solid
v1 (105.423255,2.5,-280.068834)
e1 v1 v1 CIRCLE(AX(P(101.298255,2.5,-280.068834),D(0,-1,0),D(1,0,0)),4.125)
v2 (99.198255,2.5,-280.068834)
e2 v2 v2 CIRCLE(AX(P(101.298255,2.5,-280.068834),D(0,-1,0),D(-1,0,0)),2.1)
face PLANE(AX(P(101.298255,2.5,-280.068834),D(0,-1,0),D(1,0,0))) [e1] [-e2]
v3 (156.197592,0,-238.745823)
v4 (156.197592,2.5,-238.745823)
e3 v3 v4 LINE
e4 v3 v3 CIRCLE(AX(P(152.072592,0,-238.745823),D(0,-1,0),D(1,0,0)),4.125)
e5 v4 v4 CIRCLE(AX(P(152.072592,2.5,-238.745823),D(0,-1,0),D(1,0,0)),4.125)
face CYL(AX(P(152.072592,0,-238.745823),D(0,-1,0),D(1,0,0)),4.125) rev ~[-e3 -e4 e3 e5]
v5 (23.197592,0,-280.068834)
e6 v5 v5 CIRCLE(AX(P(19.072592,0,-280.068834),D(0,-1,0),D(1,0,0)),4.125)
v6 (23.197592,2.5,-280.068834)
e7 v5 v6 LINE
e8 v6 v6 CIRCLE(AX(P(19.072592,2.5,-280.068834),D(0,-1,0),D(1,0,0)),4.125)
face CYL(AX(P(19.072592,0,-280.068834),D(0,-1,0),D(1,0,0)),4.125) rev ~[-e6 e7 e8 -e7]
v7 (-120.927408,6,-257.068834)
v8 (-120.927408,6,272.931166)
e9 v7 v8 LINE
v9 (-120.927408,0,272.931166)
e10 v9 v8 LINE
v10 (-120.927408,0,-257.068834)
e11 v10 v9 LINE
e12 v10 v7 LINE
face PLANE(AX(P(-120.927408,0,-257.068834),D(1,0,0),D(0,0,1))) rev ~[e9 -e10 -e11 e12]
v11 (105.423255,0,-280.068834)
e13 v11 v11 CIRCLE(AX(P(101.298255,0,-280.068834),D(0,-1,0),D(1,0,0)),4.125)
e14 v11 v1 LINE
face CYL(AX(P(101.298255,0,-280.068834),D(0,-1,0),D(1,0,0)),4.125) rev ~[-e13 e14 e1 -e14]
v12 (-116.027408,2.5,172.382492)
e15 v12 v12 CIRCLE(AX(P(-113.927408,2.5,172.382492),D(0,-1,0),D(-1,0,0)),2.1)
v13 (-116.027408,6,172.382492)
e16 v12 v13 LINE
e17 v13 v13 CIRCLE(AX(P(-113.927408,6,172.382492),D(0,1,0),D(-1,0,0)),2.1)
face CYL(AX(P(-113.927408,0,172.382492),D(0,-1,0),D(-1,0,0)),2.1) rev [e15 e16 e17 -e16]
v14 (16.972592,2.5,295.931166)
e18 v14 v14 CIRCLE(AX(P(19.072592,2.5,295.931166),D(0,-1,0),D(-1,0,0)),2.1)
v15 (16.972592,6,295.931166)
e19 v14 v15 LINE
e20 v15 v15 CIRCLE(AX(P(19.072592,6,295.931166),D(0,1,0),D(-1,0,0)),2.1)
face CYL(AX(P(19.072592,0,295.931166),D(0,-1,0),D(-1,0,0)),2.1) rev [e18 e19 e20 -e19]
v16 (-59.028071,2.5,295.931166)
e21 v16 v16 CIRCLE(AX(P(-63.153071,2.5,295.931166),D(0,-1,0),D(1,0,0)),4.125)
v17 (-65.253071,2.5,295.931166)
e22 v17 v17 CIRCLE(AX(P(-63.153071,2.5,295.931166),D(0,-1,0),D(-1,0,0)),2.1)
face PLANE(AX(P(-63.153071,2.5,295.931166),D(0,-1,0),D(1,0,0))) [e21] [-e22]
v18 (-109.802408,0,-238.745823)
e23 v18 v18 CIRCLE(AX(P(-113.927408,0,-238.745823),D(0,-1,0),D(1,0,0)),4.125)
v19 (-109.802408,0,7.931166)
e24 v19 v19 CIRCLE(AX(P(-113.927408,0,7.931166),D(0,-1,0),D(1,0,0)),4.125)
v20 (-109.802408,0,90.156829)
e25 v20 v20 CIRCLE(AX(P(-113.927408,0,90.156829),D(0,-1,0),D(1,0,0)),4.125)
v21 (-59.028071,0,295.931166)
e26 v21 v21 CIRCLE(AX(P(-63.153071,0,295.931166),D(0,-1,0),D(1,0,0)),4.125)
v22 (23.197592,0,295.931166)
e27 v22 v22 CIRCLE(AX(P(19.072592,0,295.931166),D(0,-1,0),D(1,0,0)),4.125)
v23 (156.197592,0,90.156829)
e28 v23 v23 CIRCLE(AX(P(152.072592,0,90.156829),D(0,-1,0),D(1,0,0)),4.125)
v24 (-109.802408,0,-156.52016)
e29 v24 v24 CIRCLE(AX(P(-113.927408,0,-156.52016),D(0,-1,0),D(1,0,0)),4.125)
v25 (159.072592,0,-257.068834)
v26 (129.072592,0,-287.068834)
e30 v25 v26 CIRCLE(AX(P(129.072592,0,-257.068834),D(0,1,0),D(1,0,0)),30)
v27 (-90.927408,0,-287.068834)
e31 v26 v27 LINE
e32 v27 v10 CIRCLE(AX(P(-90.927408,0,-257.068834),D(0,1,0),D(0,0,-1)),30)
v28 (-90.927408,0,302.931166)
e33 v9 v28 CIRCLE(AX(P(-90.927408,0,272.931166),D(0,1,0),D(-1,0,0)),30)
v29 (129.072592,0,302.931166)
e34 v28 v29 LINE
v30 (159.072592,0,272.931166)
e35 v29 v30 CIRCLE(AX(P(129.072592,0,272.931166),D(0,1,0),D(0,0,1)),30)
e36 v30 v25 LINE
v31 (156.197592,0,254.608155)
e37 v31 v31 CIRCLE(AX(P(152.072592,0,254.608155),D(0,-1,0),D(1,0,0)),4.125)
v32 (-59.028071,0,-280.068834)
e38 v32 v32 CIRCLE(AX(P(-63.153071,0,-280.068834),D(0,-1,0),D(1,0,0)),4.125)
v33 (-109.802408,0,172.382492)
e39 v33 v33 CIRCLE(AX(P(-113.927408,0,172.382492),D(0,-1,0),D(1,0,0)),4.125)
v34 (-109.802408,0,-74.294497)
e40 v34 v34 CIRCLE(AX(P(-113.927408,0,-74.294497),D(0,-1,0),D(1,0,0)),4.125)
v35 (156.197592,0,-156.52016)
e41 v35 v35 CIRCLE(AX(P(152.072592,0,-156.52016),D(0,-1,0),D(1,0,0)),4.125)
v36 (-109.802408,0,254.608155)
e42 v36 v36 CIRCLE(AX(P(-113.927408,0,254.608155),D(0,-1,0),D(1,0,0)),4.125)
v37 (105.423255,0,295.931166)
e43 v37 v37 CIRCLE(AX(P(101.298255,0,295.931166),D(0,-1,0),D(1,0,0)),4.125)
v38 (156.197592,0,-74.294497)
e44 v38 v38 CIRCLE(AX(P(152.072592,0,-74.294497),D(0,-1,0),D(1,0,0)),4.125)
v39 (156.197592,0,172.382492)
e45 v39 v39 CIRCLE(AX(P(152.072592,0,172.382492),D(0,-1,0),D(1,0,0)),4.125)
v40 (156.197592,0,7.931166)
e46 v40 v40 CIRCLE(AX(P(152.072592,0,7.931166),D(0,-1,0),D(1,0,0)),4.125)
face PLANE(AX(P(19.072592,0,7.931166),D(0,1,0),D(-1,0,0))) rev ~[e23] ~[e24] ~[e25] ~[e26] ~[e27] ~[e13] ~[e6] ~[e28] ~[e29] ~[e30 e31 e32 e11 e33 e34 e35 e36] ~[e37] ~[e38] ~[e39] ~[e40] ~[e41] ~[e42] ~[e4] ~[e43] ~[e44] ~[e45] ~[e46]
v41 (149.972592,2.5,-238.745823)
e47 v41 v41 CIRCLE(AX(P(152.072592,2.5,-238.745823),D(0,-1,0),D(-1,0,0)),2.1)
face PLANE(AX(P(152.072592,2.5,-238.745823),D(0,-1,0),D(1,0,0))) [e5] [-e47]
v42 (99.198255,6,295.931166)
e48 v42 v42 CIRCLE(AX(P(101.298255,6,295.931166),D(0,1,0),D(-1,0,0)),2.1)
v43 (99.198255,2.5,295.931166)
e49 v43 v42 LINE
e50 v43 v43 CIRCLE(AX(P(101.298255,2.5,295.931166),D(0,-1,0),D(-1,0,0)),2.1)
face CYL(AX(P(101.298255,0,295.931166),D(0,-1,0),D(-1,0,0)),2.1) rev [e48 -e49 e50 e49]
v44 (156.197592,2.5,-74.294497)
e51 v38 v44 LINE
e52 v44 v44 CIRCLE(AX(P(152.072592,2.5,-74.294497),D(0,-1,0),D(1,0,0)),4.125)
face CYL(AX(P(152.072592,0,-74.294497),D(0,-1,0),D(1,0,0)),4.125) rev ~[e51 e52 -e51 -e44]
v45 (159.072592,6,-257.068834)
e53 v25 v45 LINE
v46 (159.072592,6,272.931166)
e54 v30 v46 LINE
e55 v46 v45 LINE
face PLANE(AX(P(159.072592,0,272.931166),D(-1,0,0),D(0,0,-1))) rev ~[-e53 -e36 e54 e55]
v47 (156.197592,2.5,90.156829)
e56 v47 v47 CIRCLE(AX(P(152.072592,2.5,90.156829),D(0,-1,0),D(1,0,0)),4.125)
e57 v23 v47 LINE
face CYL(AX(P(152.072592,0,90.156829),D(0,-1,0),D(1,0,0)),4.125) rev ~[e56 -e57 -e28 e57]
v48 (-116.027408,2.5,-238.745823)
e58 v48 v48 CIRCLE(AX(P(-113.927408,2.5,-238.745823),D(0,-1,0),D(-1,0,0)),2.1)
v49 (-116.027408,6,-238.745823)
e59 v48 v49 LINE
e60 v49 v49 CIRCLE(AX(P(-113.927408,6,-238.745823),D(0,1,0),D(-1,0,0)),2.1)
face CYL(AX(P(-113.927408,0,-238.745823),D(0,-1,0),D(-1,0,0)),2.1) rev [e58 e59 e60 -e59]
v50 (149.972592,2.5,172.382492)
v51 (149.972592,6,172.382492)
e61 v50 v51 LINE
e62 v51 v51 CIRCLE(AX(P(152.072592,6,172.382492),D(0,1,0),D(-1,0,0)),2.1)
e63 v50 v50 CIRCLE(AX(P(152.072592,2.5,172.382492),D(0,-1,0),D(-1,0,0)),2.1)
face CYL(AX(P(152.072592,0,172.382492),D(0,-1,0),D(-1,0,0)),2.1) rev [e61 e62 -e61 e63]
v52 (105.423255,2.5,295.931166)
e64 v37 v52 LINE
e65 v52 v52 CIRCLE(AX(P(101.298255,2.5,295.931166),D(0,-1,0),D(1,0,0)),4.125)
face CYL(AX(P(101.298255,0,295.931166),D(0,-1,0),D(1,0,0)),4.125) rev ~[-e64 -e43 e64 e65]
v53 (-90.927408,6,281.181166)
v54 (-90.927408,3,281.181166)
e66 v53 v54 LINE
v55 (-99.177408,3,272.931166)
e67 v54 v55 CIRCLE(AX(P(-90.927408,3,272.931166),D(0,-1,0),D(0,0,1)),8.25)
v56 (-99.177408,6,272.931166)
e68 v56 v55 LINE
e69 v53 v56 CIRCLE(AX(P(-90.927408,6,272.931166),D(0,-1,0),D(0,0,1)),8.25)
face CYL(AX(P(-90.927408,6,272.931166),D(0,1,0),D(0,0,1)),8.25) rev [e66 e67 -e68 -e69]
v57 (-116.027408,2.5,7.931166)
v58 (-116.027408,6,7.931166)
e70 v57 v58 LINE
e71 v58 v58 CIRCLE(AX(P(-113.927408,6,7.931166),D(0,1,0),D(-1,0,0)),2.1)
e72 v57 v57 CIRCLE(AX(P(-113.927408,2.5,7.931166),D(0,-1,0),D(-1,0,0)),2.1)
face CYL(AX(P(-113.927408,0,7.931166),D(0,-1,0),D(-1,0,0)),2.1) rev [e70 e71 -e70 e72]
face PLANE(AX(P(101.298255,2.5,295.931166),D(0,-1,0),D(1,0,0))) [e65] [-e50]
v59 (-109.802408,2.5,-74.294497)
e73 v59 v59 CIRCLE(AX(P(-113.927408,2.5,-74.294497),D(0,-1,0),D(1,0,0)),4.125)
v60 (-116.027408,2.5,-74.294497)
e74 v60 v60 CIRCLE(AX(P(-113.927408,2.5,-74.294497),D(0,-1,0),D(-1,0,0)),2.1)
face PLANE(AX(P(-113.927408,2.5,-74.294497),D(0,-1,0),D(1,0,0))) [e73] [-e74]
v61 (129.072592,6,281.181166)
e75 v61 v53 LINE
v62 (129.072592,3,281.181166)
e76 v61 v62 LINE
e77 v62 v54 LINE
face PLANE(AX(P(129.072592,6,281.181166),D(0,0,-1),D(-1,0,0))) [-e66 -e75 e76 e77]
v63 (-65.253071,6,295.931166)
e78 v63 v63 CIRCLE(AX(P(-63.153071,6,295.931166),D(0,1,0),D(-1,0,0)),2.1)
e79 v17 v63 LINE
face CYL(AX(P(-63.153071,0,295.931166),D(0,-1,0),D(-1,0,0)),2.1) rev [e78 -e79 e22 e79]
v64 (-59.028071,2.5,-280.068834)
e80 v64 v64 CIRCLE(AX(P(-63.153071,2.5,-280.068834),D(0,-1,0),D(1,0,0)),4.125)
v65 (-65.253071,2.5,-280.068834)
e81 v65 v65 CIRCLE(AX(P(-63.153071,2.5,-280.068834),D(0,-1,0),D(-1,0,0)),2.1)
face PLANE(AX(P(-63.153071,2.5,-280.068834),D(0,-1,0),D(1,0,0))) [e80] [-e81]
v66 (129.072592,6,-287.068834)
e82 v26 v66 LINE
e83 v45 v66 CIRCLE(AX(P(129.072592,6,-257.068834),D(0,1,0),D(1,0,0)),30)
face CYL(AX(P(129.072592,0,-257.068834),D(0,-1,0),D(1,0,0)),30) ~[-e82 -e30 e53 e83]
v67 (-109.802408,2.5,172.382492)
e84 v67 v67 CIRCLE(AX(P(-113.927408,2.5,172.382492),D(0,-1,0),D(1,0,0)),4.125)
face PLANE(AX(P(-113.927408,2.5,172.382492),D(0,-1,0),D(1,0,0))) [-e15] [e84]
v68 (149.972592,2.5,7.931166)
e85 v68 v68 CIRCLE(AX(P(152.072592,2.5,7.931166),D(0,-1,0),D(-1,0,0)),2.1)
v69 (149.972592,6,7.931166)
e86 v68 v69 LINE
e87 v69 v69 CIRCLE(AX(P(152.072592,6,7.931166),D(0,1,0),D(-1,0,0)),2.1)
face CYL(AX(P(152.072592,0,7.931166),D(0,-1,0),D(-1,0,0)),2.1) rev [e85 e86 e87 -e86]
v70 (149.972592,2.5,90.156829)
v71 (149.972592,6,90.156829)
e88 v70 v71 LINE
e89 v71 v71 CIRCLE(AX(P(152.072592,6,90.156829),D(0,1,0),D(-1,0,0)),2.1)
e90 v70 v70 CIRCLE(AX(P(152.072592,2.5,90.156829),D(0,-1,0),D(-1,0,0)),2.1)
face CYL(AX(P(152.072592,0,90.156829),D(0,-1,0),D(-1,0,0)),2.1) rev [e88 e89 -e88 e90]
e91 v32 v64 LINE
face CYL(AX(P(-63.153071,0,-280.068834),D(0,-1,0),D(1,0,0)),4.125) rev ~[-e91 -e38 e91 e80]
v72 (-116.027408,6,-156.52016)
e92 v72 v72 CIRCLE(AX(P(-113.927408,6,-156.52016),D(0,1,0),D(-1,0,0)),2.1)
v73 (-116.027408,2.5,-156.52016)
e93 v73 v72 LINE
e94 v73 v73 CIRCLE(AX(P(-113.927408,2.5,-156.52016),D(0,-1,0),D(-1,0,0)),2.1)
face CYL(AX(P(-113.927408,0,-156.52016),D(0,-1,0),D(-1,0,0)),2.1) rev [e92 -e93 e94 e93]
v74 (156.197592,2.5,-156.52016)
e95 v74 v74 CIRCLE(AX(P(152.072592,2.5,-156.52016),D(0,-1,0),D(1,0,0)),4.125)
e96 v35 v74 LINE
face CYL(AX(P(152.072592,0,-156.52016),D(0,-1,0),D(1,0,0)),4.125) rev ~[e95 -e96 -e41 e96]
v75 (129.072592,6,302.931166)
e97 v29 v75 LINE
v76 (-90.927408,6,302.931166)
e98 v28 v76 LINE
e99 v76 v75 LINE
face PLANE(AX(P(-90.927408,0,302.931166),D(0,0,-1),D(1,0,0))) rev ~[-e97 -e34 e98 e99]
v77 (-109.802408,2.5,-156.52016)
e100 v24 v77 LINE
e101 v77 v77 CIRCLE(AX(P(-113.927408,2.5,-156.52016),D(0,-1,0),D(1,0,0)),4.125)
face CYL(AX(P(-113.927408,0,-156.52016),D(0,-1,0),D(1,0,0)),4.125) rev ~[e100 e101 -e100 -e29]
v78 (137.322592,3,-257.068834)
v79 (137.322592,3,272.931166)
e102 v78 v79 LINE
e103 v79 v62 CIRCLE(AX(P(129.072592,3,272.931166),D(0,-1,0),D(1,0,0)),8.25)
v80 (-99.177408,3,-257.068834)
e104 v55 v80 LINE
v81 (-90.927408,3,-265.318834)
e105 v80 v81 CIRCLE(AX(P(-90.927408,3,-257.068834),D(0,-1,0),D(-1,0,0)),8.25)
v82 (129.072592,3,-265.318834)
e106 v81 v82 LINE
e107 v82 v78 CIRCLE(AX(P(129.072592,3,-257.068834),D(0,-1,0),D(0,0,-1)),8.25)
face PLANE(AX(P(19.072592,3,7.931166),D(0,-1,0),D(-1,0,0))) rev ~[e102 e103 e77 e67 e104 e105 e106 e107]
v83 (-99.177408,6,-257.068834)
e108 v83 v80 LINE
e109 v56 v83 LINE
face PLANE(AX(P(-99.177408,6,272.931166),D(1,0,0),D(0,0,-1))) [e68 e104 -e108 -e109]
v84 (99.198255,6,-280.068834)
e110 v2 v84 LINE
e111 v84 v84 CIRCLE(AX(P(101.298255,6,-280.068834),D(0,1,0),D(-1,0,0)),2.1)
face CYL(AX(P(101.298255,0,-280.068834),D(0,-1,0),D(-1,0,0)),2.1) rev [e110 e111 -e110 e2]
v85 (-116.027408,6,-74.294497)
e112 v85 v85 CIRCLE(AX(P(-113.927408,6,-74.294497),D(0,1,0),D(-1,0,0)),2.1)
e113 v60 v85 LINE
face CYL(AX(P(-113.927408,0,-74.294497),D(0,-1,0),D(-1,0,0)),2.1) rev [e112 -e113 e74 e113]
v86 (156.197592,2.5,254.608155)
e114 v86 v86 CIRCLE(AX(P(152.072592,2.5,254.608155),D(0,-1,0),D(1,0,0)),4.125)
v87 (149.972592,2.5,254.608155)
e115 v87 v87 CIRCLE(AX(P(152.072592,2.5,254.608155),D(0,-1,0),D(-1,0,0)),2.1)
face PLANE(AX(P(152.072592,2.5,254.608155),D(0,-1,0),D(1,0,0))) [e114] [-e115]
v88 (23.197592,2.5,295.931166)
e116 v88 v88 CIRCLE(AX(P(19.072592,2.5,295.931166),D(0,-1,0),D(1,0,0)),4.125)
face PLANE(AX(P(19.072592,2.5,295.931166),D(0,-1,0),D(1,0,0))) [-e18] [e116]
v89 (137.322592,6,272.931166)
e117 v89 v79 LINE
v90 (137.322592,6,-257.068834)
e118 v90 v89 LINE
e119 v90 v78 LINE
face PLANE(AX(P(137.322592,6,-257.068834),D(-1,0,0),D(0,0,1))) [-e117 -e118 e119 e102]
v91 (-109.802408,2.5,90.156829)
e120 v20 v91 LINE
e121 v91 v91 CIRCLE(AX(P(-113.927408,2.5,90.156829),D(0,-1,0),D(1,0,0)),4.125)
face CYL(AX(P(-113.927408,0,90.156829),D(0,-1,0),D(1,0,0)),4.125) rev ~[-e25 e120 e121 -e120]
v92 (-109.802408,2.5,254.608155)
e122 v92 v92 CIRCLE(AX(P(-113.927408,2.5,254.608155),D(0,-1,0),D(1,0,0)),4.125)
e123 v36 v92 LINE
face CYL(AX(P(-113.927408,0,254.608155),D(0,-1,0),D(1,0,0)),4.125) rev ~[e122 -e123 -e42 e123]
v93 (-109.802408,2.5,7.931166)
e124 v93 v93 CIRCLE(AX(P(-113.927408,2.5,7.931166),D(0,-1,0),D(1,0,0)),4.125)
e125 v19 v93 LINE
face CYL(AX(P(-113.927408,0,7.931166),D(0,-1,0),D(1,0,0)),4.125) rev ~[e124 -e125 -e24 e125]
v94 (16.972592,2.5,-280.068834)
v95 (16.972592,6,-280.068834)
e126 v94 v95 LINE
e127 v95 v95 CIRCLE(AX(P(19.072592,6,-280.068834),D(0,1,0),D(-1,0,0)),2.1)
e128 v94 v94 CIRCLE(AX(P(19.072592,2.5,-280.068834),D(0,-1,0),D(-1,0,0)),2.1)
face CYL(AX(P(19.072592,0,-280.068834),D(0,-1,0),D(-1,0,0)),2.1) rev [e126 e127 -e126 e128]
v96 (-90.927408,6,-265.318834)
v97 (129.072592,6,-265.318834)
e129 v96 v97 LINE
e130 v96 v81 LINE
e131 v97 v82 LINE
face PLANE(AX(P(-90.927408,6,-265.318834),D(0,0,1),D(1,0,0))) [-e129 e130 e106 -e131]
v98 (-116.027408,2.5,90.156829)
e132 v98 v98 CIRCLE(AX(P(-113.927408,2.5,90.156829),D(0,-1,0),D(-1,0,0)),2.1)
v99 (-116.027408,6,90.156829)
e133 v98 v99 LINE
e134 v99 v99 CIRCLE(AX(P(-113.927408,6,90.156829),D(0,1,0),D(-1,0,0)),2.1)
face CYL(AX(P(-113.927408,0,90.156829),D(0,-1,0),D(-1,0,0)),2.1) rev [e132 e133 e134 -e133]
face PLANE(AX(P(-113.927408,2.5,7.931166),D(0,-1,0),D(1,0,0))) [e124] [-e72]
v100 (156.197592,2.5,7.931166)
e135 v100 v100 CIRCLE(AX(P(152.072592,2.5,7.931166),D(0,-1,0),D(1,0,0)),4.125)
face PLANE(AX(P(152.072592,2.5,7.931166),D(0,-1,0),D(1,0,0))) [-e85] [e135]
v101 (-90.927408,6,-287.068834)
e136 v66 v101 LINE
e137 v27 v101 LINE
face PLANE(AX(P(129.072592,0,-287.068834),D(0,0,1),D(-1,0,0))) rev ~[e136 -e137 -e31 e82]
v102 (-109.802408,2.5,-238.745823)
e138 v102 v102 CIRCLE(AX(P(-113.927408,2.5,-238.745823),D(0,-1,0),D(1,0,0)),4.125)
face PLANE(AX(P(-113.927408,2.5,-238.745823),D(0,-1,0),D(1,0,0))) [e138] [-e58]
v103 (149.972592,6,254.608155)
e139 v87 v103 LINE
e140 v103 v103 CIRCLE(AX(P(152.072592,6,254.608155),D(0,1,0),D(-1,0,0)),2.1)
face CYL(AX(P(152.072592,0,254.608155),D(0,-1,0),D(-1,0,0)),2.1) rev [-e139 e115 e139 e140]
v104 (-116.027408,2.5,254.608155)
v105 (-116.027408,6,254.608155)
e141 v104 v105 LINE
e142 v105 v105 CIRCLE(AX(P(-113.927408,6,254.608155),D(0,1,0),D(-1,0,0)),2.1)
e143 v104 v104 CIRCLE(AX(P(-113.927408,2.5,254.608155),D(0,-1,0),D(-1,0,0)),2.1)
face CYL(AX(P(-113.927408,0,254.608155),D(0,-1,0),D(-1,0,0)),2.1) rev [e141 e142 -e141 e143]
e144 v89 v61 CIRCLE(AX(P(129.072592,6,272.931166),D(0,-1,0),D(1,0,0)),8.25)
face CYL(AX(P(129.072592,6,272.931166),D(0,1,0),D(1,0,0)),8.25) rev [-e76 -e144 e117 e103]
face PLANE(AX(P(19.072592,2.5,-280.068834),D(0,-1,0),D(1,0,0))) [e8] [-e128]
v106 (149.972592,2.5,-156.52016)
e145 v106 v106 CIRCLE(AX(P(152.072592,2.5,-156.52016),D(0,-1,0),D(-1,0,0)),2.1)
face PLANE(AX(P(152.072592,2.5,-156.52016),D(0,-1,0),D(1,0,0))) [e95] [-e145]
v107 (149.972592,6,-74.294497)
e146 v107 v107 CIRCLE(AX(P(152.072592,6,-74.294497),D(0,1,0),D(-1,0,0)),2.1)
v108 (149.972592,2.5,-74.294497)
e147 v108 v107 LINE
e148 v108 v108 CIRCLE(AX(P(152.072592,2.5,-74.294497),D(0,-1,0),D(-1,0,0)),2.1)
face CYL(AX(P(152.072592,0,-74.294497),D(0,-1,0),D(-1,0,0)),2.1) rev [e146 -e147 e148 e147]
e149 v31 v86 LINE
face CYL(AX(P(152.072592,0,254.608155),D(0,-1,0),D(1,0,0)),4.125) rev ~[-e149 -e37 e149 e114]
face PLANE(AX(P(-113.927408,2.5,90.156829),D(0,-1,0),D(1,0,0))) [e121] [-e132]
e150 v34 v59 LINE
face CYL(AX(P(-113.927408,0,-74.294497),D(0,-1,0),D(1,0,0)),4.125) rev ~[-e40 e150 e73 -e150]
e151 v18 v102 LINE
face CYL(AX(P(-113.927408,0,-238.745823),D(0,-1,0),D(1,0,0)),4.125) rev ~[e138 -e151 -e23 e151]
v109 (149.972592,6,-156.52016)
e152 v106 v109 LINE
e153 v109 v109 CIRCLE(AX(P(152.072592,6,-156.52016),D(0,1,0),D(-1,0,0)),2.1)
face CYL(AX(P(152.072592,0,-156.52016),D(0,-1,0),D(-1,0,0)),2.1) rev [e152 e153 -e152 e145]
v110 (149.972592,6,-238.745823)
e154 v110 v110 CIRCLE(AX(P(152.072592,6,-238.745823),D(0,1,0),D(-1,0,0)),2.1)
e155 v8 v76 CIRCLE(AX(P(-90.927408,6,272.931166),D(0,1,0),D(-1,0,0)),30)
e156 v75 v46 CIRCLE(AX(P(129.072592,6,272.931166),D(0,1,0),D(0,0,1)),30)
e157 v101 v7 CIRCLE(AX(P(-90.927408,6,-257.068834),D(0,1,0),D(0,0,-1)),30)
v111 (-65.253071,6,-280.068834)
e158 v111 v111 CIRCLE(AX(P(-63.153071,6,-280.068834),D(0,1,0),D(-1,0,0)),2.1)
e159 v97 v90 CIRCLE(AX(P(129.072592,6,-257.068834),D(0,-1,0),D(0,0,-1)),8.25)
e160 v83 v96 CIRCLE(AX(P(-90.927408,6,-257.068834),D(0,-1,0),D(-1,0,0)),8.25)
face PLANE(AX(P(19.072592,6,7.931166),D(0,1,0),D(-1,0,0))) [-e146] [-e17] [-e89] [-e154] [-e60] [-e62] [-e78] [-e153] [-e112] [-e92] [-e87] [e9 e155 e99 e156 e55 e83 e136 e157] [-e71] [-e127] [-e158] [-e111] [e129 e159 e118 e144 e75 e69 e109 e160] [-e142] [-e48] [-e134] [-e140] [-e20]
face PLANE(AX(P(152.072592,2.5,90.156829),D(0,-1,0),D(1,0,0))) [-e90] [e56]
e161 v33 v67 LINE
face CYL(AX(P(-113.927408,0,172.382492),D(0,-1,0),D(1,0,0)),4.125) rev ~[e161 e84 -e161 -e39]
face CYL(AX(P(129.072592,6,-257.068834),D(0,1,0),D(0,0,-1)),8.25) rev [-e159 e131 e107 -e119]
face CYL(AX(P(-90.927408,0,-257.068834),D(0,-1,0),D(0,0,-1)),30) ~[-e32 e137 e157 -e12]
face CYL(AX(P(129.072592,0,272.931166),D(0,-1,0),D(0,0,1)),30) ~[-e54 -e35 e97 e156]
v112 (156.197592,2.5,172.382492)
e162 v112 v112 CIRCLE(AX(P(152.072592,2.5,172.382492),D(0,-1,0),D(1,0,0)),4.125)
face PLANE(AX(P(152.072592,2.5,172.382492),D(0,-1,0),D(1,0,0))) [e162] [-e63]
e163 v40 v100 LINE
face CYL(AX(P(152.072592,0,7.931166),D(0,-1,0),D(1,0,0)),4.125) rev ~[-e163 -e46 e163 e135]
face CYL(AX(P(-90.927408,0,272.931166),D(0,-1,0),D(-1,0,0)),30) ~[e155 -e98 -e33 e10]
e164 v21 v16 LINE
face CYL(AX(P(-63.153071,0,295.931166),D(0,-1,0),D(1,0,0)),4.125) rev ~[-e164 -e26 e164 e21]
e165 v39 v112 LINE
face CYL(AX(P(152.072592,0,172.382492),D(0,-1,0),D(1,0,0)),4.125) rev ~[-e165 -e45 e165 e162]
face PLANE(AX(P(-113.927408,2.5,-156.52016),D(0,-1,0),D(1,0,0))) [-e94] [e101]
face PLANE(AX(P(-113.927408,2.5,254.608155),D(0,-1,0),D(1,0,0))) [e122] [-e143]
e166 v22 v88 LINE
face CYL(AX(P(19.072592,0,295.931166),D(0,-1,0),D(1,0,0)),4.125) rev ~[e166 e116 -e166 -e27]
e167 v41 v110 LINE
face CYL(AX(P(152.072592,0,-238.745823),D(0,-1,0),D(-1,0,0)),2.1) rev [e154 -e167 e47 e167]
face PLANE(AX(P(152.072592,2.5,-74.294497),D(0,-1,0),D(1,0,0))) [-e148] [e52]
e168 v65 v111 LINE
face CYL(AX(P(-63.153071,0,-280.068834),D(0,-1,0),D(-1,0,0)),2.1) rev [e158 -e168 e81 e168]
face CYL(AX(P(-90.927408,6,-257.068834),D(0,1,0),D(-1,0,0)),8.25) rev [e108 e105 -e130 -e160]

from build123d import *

# Parameters (mm, degrees)
SKETCH1_R           = 2.1
BOSS_EXTRUDE1_DEPTH = 6
CUT_EXTRUDE1_DEPTH  = 3
SKETCH4_R           = 4.125
CUT_EXTRUDE2_DEPTH  = 2.5


with BuildPart() as part:
    # Sketch1 → Boss-Extrude1 (new body)
    with BuildSketch(Plane(origin=(0, 0, 0), x_dir=(-1, 0, 0), z_dir=(0, 1, 0))):
        with BuildLine():
            Line((90.927407972, 302.93116582), (-129.072592028, 302.93116582))
            ThreePointArc((-129.072592028, 302.93116582), (-150.285795463, 294.144369255), (-159.072592028, 272.93116582))
            Line((-159.072592028, 272.93116582), (-159.072592028, -257.06883418))
            ThreePointArc((-159.072592028, -257.06883418), (-150.285795463, -278.282037616), (-129.072592028, -287.06883418))
            Line((-129.072592028, -287.06883418), (90.927407972, -287.06883418))
            ThreePointArc((90.927407972, -287.06883418), (112.140611408, -278.282037616), (120.927407972, -257.06883418))
            Line((120.927407972, -257.06883418), (120.927407972, 272.93116582))
            ThreePointArc((120.927407972, 272.93116582), (112.140611408, 294.144369255), (90.927407972, 302.93116582))
        make_face()
        with Locations((-152.072592028, 254.608155129)):
            Circle(SKETCH1_R, mode=Mode.SUBTRACT)
        with Locations((-101.298255131, 295.93116582)):
            Circle(SKETCH1_R, mode=Mode.SUBTRACT)
        with Locations((-19.072592028, 295.93116582)):
            Circle(SKETCH1_R, mode=Mode.SUBTRACT)
        with Locations((63.153071075, 295.93116582)):
            Circle(SKETCH1_R, mode=Mode.SUBTRACT)
        with Locations((113.927407972, 254.608155129)):
            Circle(SKETCH1_R, mode=Mode.SUBTRACT)
        with Locations((-152.072592028, 7.93116582)):
            Circle(SKETCH1_R, mode=Mode.SUBTRACT)
        with Locations((-152.072592028, -74.294497284)):
            Circle(SKETCH1_R, mode=Mode.SUBTRACT)
        with Locations((-152.072592028, -156.520160387)):
            Circle(SKETCH1_R, mode=Mode.SUBTRACT)
        with Locations((-152.072592028, -238.74582349)):
            Circle(SKETCH1_R, mode=Mode.SUBTRACT)
        with Locations((-101.298255131, -280.06883418)):
            Circle(SKETCH1_R, mode=Mode.SUBTRACT)
        with Locations((-19.072592028, -280.06883418)):
            Circle(SKETCH1_R, mode=Mode.SUBTRACT)
        with Locations((63.153071075, -280.06883418)):
            Circle(SKETCH1_R, mode=Mode.SUBTRACT)
        with Locations((113.927407972, -238.74582349)):
            Circle(SKETCH1_R, mode=Mode.SUBTRACT)
        with Locations((113.927407972, -156.520160387)):
            Circle(SKETCH1_R, mode=Mode.SUBTRACT)
        with Locations((113.927407972, -74.294497284)):
            Circle(SKETCH1_R, mode=Mode.SUBTRACT)
        with Locations((113.927407972, 7.93116582)):
            Circle(SKETCH1_R, mode=Mode.SUBTRACT)
        with Locations((-152.072592028, 90.156828923)):
            Circle(SKETCH1_R, mode=Mode.SUBTRACT)
        with Locations((-152.072592028, 172.382492026)):
            Circle(SKETCH1_R, mode=Mode.SUBTRACT)
        with Locations((113.927407972, 90.156828923)):
            Circle(SKETCH1_R, mode=Mode.SUBTRACT)
        with Locations((113.927407972, 172.382492026)):
            Circle(SKETCH1_R, mode=Mode.SUBTRACT)
    extrude(amount=BOSS_EXTRUDE1_DEPTH)

    # Sketch3 → Cut-Extrude1 (cut)
    with BuildSketch(Plane(origin=(0, 6, 0), x_dir=(1, 0, 0), z_dir=(0, 1, 0))):
        with BuildLine():
            Line((129.072592028, -281.18116582), (-90.927407972, -281.18116582))
            ThreePointArc((-90.927407972, -281.18116582), (-96.761038917, -278.764796764), (-99.177407972, -272.93116582))
            Line((-99.177407972, -272.93116582), (-99.177407972, 257.06883418))
            ThreePointArc((-99.177407972, 257.06883418), (-96.761038917, 262.902465125), (-90.927407972, 265.31883418))
            Line((-90.927407972, 265.31883418), (129.072592028, 265.31883418))
            ThreePointArc((129.072592028, 265.31883418), (134.906222973, 262.902465125), (137.322592028, 257.06883418))
            Line((137.322592028, 257.06883418), (137.322592028, -272.93116582))
            ThreePointArc((137.322592028, -272.93116582), (134.906222973, -278.764796764), (129.072592028, -281.18116582))
        make_face()
    extrude(amount=-CUT_EXTRUDE1_DEPTH, mode=Mode.SUBTRACT)

    # Sketch4 → Cut-Extrude2 (cut)
    with BuildSketch(Plane.XZ):
        with Locations((101.298255131, -280.06883418)):
            Circle(SKETCH4_R)
        with Locations((152.072592028, -238.74582349)):
            Circle(SKETCH4_R)
        with Locations((19.072592028, -280.06883418)):
            Circle(SKETCH4_R)
        with Locations((-63.153071075, -280.06883418)):
            Circle(SKETCH4_R)
        with Locations((-113.927407972, -238.74582349)):
            Circle(SKETCH4_R)
        with Locations((-113.927407972, -156.520160387)):
            Circle(SKETCH4_R)
        with Locations((-113.927407972, -74.294497284)):
            Circle(SKETCH4_R)
        with Locations((-113.927407972, 7.93116582)):
            Circle(SKETCH4_R)
        with Locations((-113.927407972, 90.156828923)):
            Circle(SKETCH4_R)
        with Locations((-113.927407972, 172.382492026)):
            Circle(SKETCH4_R)
        with Locations((-113.927407972, 254.608155129)):
            Circle(SKETCH4_R)
        with Locations((-63.153071075, 295.93116582)):
            Circle(SKETCH4_R)
        with Locations((19.072592028, 295.93116582)):
            Circle(SKETCH4_R)
        with Locations((101.298255131, 295.93116582)):
            Circle(SKETCH4_R)
        with Locations((152.072592028, 254.608155129)):
            Circle(SKETCH4_R)
        with Locations((152.072592028, 172.382492026)):
            Circle(SKETCH4_R)
        with Locations((152.072592028, 90.156828923)):
            Circle(SKETCH4_R)
        with Locations((152.072592028, 7.93116582)):
            Circle(SKETCH4_R)
        with Locations((152.072592028, -74.294497284)):
            Circle(SKETCH4_R)
        with Locations((152.072592028, -156.520160387)):
            Circle(SKETCH4_R)
    extrude(amount=-CUT_EXTRUDE2_DEPTH, mode=Mode.SUBTRACT)


solid = part.part
